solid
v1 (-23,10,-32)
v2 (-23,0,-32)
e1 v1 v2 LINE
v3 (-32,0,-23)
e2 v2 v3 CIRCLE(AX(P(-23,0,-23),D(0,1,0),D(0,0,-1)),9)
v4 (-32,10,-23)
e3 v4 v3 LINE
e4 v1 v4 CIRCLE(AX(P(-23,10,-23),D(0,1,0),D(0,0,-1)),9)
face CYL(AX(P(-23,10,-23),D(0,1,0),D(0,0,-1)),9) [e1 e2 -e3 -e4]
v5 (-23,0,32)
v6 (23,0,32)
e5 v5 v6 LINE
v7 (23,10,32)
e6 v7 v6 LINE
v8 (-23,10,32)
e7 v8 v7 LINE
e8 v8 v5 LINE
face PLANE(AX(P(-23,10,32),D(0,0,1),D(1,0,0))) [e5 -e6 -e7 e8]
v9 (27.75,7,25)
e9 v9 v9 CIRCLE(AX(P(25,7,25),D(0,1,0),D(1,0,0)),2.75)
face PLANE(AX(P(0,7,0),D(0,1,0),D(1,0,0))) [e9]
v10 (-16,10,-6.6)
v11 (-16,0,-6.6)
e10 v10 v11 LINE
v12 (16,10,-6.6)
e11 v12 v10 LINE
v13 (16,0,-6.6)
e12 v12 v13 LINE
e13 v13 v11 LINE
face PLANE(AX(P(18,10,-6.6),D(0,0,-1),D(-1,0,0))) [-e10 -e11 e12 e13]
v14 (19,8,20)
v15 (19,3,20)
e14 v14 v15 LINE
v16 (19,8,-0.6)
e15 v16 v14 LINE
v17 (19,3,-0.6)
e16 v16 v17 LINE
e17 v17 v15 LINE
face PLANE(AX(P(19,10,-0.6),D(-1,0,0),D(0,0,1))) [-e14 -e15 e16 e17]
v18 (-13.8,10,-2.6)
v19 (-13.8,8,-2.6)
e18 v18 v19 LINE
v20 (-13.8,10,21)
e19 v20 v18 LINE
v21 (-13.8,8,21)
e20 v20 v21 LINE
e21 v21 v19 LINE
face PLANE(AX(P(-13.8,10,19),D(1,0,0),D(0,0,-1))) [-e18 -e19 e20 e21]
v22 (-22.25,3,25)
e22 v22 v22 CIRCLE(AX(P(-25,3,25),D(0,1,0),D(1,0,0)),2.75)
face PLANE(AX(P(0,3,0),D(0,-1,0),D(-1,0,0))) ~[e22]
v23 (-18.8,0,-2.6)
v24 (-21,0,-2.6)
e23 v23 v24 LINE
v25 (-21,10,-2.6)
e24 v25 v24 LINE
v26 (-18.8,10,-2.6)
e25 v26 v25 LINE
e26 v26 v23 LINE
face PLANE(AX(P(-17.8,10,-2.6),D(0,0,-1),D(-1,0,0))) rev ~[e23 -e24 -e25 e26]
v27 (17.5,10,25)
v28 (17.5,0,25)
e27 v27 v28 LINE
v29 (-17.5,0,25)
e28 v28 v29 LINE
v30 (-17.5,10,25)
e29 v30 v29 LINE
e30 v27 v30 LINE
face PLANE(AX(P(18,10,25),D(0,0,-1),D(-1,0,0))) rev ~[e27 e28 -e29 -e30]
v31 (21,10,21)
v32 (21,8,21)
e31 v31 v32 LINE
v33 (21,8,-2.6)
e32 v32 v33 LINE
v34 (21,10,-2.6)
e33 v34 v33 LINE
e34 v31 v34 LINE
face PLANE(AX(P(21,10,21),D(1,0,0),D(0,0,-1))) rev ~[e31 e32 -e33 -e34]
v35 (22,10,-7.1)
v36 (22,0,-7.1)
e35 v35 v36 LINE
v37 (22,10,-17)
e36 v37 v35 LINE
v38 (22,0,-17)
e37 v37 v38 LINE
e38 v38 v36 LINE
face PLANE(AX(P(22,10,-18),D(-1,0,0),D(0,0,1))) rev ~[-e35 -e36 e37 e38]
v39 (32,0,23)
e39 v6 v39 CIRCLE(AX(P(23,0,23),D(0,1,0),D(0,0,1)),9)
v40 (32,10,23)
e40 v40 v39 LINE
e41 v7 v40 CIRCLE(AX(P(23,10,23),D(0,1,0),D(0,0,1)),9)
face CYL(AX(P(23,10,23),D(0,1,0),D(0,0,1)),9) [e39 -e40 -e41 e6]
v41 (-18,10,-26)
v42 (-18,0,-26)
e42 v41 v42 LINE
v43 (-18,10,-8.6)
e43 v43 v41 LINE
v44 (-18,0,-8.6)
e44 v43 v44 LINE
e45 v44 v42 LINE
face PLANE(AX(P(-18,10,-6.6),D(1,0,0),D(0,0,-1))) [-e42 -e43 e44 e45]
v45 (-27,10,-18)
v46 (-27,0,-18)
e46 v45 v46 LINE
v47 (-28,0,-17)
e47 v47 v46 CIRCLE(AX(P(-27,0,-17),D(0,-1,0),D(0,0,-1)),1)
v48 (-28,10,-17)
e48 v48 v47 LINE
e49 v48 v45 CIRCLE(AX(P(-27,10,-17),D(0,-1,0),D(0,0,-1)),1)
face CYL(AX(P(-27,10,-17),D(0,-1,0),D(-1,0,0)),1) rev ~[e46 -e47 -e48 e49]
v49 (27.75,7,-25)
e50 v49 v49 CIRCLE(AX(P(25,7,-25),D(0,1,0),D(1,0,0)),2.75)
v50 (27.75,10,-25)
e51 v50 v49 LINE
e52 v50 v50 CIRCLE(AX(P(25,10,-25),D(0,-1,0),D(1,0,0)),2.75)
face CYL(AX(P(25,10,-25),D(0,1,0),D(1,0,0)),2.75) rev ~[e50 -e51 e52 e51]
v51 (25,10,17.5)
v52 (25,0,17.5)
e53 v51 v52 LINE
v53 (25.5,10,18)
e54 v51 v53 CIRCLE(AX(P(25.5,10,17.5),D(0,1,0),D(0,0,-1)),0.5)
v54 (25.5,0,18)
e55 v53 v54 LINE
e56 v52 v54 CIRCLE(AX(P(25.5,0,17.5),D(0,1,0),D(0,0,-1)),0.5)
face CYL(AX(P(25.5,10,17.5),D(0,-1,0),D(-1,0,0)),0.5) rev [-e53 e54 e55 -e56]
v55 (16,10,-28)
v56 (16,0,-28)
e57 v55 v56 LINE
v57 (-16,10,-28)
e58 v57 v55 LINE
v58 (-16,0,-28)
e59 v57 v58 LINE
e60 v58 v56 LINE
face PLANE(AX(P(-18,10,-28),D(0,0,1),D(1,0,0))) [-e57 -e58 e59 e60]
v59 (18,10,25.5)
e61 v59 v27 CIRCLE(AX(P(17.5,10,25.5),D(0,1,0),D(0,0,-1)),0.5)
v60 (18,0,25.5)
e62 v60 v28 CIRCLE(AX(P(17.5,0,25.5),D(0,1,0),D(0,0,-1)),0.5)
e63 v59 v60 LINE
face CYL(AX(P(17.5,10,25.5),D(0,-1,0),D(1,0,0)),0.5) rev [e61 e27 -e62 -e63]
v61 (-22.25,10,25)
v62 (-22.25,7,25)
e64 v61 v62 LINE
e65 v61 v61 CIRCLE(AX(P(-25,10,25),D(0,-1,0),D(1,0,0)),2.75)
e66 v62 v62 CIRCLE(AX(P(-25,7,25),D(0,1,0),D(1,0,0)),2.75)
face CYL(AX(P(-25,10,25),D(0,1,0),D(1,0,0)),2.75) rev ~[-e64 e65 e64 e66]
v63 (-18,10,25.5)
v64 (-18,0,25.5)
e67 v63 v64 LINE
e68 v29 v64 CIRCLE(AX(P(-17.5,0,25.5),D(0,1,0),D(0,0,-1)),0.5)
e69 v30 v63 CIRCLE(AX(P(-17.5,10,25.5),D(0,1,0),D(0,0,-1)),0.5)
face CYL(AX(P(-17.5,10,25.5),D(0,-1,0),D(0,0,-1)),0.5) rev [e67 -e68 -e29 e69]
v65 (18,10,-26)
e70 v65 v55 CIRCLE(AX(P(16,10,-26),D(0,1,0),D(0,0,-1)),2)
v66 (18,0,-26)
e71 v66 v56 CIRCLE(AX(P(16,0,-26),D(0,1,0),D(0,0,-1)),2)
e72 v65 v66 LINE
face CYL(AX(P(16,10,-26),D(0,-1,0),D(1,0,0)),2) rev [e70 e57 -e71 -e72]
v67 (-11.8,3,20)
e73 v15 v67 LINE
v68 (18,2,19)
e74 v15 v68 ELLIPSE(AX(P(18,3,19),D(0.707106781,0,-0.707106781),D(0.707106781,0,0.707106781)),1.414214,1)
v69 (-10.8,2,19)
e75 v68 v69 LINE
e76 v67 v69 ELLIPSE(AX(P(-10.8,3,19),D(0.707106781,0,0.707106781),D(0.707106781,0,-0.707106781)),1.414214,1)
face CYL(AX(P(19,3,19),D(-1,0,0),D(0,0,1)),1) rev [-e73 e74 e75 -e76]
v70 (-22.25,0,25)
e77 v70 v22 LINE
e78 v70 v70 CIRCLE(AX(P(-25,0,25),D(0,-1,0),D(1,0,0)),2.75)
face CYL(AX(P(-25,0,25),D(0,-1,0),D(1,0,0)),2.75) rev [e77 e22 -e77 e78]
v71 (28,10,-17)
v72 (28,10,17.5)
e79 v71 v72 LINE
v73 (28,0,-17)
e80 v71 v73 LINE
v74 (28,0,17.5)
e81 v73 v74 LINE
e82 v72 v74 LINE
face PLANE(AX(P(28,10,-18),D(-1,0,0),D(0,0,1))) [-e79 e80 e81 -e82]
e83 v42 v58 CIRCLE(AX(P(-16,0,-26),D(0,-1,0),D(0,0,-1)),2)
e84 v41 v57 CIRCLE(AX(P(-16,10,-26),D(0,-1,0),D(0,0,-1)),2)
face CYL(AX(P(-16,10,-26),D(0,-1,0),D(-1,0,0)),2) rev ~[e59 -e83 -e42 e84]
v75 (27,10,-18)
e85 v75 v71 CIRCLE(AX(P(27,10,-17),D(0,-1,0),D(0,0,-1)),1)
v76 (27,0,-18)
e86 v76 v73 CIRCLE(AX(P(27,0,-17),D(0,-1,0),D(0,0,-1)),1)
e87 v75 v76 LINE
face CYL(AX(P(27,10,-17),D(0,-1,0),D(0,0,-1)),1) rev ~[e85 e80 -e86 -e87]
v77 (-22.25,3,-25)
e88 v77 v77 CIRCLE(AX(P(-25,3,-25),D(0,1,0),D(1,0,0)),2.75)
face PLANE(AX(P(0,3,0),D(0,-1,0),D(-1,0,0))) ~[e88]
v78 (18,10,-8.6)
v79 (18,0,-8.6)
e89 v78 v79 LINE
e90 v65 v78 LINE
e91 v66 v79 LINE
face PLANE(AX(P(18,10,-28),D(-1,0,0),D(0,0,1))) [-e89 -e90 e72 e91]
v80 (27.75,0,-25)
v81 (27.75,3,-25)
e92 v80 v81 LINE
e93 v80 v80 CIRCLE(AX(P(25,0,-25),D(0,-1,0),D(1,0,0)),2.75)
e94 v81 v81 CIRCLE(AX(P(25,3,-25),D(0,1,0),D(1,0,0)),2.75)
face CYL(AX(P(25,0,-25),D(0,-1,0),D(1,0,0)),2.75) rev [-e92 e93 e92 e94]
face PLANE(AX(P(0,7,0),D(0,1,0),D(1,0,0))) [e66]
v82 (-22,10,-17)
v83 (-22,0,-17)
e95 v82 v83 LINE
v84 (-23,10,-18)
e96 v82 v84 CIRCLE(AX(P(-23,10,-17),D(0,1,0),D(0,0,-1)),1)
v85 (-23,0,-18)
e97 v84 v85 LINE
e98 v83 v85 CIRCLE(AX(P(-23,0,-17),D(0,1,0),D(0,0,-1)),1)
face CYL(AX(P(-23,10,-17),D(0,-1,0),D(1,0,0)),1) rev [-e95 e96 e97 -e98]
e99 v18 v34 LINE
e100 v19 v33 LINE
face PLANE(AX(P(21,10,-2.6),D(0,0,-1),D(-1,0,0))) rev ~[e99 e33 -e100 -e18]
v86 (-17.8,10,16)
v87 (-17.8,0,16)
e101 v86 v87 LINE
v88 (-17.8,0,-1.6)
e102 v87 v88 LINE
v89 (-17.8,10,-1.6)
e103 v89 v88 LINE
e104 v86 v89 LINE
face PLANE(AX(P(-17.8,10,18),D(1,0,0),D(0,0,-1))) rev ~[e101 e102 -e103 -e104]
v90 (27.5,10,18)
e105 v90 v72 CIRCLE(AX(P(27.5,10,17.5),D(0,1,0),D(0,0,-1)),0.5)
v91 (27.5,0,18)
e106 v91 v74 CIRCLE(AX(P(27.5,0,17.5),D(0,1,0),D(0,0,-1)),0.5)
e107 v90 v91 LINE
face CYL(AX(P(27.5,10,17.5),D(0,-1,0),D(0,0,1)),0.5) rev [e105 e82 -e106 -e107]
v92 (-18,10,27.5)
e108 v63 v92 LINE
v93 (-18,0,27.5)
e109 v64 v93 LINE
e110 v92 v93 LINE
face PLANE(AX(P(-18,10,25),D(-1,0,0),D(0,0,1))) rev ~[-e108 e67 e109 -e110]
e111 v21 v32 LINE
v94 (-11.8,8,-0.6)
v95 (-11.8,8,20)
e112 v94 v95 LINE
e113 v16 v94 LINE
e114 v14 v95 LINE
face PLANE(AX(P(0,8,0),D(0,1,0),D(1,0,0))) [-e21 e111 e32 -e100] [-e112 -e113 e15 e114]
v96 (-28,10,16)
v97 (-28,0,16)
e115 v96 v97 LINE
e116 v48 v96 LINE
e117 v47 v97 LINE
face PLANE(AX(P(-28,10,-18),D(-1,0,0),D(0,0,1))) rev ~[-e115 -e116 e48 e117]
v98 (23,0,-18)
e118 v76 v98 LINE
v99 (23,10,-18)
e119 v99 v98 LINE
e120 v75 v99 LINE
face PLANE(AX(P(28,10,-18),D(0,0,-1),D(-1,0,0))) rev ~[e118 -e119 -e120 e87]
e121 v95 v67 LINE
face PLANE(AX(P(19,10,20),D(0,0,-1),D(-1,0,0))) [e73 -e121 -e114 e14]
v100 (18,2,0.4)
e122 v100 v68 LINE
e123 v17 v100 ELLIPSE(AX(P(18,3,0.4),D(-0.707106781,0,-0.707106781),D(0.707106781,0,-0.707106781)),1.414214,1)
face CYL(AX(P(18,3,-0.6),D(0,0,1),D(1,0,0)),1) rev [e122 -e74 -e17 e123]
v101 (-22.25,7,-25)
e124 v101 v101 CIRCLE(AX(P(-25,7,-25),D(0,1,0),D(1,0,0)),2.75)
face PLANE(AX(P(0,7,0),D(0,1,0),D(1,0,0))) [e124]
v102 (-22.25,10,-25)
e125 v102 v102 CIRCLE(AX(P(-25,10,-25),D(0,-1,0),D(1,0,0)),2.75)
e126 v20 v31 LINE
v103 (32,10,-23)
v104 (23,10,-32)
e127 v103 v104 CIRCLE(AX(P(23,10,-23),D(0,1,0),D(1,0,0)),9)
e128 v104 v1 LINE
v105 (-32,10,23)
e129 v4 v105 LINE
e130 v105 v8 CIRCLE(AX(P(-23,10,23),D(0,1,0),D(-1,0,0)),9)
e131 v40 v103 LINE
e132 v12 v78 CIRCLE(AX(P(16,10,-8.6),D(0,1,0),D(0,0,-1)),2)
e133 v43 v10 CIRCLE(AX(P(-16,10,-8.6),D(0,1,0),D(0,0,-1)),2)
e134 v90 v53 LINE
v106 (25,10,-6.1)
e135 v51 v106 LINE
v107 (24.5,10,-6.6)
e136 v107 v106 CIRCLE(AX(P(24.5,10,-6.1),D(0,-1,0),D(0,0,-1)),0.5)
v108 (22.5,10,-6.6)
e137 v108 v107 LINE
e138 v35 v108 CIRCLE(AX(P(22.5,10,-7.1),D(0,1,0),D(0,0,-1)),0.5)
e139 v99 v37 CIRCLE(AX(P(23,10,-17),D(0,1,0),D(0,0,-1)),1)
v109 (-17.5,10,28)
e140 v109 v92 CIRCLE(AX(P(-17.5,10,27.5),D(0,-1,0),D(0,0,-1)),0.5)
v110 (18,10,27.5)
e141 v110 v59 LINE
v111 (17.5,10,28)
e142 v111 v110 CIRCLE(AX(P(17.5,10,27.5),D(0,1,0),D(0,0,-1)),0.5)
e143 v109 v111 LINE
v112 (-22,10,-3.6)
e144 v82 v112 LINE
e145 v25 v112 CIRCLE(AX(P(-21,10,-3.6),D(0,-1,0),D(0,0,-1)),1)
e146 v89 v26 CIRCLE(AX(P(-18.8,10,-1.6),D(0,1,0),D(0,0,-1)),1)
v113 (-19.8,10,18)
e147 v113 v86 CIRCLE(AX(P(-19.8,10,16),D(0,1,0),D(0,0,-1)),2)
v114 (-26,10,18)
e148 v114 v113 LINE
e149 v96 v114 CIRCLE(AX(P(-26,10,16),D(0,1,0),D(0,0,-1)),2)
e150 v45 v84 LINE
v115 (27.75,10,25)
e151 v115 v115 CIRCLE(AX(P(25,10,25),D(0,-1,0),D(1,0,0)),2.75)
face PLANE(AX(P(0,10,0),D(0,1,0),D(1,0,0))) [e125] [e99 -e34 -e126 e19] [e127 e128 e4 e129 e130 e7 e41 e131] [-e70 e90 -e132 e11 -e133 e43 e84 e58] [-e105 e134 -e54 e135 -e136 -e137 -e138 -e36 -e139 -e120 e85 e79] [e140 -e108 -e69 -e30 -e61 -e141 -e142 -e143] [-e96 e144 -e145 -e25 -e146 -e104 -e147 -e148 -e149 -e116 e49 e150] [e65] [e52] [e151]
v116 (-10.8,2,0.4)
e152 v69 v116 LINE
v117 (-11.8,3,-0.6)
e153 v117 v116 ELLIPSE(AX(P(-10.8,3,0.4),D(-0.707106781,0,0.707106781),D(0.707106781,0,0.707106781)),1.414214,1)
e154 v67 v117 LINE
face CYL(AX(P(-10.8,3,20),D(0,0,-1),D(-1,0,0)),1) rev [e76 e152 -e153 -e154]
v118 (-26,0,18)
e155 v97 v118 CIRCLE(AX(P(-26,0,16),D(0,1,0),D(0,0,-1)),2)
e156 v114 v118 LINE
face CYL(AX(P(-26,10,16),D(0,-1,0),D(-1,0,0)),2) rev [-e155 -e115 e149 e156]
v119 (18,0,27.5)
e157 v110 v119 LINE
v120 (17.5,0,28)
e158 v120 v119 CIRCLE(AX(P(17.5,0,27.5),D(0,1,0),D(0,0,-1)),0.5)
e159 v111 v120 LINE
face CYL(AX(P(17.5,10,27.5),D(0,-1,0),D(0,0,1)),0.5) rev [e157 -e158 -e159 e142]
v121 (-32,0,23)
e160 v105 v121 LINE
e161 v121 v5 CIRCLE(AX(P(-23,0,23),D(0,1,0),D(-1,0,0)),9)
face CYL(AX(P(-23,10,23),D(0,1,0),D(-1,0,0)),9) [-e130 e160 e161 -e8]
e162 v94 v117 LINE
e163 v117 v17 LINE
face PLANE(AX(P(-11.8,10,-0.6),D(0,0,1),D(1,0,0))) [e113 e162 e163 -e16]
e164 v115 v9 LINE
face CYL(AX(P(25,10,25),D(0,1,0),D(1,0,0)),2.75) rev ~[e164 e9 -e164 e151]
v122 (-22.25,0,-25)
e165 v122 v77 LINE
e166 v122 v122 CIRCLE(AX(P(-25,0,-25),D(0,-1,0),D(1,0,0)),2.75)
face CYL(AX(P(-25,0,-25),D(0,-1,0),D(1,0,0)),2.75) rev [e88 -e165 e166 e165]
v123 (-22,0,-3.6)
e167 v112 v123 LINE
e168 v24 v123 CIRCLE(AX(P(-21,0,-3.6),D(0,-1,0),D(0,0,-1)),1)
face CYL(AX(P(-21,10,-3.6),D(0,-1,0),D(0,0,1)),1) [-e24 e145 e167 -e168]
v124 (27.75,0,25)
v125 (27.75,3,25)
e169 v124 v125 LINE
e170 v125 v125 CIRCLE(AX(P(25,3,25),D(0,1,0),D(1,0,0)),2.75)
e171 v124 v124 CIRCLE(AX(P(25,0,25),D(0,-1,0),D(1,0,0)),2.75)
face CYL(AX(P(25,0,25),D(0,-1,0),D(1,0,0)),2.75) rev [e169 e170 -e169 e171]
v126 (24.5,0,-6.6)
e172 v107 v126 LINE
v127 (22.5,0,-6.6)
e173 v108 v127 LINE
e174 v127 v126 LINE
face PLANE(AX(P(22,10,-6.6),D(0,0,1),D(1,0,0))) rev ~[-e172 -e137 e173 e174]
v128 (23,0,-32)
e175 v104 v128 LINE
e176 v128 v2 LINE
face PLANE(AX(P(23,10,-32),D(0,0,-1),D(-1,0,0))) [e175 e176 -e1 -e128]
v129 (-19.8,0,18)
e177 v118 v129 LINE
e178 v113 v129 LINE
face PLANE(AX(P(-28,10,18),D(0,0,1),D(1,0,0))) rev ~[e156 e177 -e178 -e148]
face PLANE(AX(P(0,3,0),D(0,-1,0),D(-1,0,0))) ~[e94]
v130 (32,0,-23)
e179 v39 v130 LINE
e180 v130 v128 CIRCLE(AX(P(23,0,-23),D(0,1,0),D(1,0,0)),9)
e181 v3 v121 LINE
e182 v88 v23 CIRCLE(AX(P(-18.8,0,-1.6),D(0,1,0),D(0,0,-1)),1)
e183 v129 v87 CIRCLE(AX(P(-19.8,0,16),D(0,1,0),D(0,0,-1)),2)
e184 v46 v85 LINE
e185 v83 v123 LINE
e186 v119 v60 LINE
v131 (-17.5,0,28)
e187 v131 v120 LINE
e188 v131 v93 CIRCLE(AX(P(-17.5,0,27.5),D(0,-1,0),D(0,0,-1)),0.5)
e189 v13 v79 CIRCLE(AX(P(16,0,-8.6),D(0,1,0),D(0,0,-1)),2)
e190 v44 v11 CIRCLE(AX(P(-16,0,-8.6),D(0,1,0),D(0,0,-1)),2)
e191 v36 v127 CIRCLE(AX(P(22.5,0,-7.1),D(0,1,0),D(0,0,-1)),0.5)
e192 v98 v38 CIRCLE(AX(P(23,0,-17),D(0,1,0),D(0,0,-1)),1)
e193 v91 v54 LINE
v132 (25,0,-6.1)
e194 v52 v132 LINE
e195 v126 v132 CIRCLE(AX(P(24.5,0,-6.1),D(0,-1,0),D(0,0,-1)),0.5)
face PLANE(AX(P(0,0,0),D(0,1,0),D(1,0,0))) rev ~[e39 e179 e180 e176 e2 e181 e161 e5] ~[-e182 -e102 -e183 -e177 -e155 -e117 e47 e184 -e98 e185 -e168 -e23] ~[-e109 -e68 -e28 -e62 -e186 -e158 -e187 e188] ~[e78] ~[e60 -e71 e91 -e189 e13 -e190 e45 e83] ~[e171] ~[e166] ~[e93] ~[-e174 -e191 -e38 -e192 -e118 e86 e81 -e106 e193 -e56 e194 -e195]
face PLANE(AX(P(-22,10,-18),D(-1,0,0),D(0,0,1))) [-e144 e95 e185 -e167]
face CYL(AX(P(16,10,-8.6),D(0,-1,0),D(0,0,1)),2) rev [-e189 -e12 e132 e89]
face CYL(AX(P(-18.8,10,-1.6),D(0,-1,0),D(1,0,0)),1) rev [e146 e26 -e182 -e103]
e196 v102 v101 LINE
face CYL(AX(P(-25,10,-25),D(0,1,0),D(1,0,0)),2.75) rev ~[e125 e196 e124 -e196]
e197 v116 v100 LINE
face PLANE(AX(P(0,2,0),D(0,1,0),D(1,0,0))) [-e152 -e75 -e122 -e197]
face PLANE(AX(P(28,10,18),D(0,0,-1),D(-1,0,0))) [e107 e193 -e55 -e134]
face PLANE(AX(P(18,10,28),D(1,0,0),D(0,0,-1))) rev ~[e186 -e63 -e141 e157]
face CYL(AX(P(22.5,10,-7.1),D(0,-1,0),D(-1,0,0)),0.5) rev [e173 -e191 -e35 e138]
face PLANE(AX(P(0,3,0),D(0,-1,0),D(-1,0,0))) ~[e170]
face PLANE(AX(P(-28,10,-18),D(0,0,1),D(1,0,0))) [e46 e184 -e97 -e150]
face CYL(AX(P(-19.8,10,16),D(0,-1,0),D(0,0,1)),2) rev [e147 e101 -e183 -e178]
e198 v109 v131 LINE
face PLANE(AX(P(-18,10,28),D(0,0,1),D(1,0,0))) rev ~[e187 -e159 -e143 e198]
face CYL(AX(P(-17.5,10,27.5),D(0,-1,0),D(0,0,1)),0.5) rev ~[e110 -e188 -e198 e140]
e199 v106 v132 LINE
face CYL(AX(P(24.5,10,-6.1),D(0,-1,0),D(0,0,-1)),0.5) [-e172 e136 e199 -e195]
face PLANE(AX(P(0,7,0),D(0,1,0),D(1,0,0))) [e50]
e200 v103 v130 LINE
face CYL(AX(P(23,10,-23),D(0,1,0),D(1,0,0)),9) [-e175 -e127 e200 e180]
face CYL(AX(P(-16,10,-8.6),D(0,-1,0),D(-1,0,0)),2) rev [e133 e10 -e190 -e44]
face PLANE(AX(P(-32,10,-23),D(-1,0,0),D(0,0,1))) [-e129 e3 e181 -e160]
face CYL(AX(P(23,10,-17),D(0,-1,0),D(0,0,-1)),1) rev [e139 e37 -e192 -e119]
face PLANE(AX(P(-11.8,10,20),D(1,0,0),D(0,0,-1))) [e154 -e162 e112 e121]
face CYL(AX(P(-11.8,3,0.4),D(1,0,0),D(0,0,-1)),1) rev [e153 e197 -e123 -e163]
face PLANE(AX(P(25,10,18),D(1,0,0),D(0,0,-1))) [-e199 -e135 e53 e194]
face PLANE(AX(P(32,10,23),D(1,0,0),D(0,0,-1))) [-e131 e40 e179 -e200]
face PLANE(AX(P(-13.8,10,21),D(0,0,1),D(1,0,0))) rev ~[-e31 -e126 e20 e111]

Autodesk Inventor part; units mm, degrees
ref_plane "YZ Plane" through (0, 0, 0) normal (1, 0, 0) x (0, 1, 0)
ref_plane "XZ Plane" through (0, 0, 0) normal (0, 1, 0) x (-1, 0, 0)
sketch "Sketch1" plane through (0, 0, 0) normal (0, 1, 0) x (-1, 0, 0)
  line L0 (30, 30) -> (-30, 30)
  line L1 (-30, 30) -> (-30, -30)
  line L2 (-30, -30) -> (30, -30)
  line L3 (30, -30) -> (30, 30)
  line L4 (30, 30) -> (-30, -30) construction
  line L5 (-30, 30) -> (30, -30) construction
  point P0 (0, 0)
  dimension "d0" = 60
  dimension "d1" = 60
extrude "Extrusion1" add sketch "Sketch1" along normal blind 10
fillet "Fillet1" radius 7 4 edges at (30, 5, 30) (30, 5, -30) (-30, 5, 30) (-30, 5, -30)
sketch "Sketch2" plane through (0, 10, 0) normal (0, 1, 0) x (1, 0, 0)
  line L0 (-30, 30) -> (30, 30)
  line L1 (30, 30) -> (30, -30)
  line L2 (30, -30) -> (-30, -30)
  line L3 (-30, -30) -> (-30, 30)
  line L4 (-30, 30) -> (30, -30) construction
  line L5 (30, 30) -> (-30, -30) construction
  line L6 (25, -25) -> (25, 25)
  line L7 (25, 25) -> (-25, 25)
  line L8 (-25, 25) -> (-25, -25)
  line L9 (-25, -25) -> (25, -25)
  circle A0 centre (25, -25) radius 2.75
  circle A1 centre (-25, -25) radius 2.75
  circle A2 centre (25, 25) radius 2.75
  circle A3 centre (-25, 25) radius 2.75
  point P0 (0, 0)
  dimension "d5" = 5
  dimension "d6" = 5.5
  dimension "d7" = 5.5
  dimension "d8" = 5.5
  dimension "d9" = 5.5
extrude "Extrusion2" cut sketch "Sketch2" against normal blind 3 contours L9 A0 L6 | L6 A0 L9 | A2 L7 L6 | L6 L7 A2 | A1 L8 L9 | L9 L8 A1 | A3 L8 L7 | L7 L8 A3
sketch "Sketch7" plane through (0, 10, 0) normal (0, 1, 0) x (1, 0, 0)
  line L0 (-23, 30) -> (23, 30)
  line L1 (30, 23) -> (30, -23)
  line L2 (23, -30) -> (-23, -30)
  line L3 (-30, -23) -> (-30, 23)
  line L4 (-30, 30) -> (30, -30) construction
  line L5 (30, 30) -> (-30, -30) construction
  arc A0 (-23, 30) -> (-30, 23) centre (-23, 23) ccw
  arc A1 (-30, -23) -> (-23, -30) centre (-23, -23) ccw
  arc A2 (23, -30) -> (30, -23) centre (23, -23) ccw
  arc A3 (30, 23) -> (23, 30) centre (23, 23) ccw
  line L6 (23, 32) -> (-23, 32)
  arc A4 (-23, 32) -> (-32, 23) centre (-23, 23) ccw
  line L7 (-32, 23) -> (-32, -23)
  arc A5 (-32, -23) -> (-23, -32) centre (-23, -23) ccw
  line L8 (-23, -32) -> (23, -32)
  arc A6 (23, -32) -> (32, -23) centre (23, -23) ccw
  line L9 (32, -23) -> (32, 23)
  arc A7 (32, 23) -> (23, 32) centre (23, 23) ccw
  point P0 (0, 0)
  dimension "d47" = 7
  dimension "d48" = 2
extrude "Extrusion6" add sketch "Sketch7" against normal blind 10
sketch "Sketch27" plane through (0, 10, 0) normal (0, 1, 0) x (1, 0, 0)
  line L0 (-25, 25) -> (25, 25)
  line L1 (25, 25) -> (25, -25)
  line L2 (25, -25) -> (-25, -25)
  line L3 (-25, -25) -> (-25, 25)
  line L4 (-25, 25) -> (25, -25) construction
  line L5 (25, 25) -> (-25, -25) construction
  line L6 (21, -21) -> (21, 21)
  line L7 (21, 21) -> (-21, 21)
  line L8 (-21, 21) -> (-21, -21)
  line L9 (-21, -21) -> (21, -21)
  line L10 (-13.8, -21) -> (-13.8, 2.6)
  line L11 (21, 2.6) -> (-13.8, 2.6)
  line L12 (19, 0.6) -> (-11.8, 0.6)
  line L13 (-11.8, 0.6) -> (-11.8, -20)
  line L14 (-19, -19) -> (-19, 19)
  line L15 (-19, 19) -> (19, 19)
  line L16 (20, 20) -> (20, 0.6)
  line L17 (-20, -20) -> (-20, 20)
  line L18 (-20, 20) -> (20, 20)
  line L19 (-13.8, -19) -> (-19, -19)
  line L20 (19, -20) -> (-11.8, -20)
  line L21 (-13.8, -20) -> (-20, -20)
  line L22 (19, 19) -> (19, 2.6)
  line L23 (19, 0.6) -> (19, -20)
  point P0 (0, 0)
  dimension "d266" = 50
  dimension "d267" = 50
  dimension "d268" = 4
  dimension "d269" = 34.8
  dimension "d270" = 23.6
  dimension "d271" = 2
  dimension "d273" = 1
extrude "Extrusion25" cut sketch "Sketch27" against normal blind 2 contours L9 L10 L11 L6
sketch "Sketch28" plane through (0, 10, 0) normal (0, 1, 0) x (1, 0, 0)
  line L0 (-11.8, 0.6) -> (19, 0.6)
  line L1 (19, 0.6) -> (19, -20)
  line L2 (19, -20) -> (-11.8, -20)
  line L3 (-11.8, -20) -> (-11.8, 0.6)
  point P0 (0, 0)
extrude "Extrusion26" cut sketch "Sketch28" against normal blind 8
sketch "Sketch29" plane through (0, 10, 0) normal (0, 1, 0) x (1, 0, 0)
  line L0 (23, 32) -> (-23, 32) projected
  line L1 (-32, 23) -> (-32, -23) projected
  line L2 (32, -23) -> (32, 23) projected
  line L3 (-13.8, 2.6) -> (21, 2.6) projected
  line L4 (-18, 28) -> (18, 28)
  line L5 (18, 28) -> (18, 6.6)
  line L6 (18, 6.6) -> (-18, 6.6)
  line L7 (-18, 6.6) -> (-18, 28)
  line L8 (-23, -32) -> (23, -32) projected
  line L9 (21, 2.6) -> (21, -21) projected
  line L10 (28, 18) -> (22, 18)
  line L11 (22, 18) -> (22, 6.6)
  line L12 (22, 6.6) -> (25, 6.6)
  line L13 (28, 18) -> (28, -18)
  line L14 (28, -18) -> (25, -18)
  line L15 (25, -18) -> (25, 2.6)
  line L16 (25, 2.6) -> (25, 6.6)
  line L17 (21, -21) -> (-13.8, -21) projected
  line L18 (18, -28) -> (18, -25)
  line L19 (18, -25) -> (-18, -25)
  line L20 (-18, -25) -> (-18, -28)
  line L21 (-18, -28) -> (18, -28)
  line L22 (-13.8, -21) -> (-13.8, 2.6) projected
  line L23 (-28, -18) -> (-17.8, -18)
  line L24 (-17.8, -18) -> (-17.8, 2.6)
  line L25 (-17.8, 2.6) -> (-22, 2.6)
  line L26 (-22, 2.6) -> (-22, 6.6)
  line L27 (-28, 18) -> (-22, 18)
  line L28 (-22, 18) -> (-22, 6.6)
  line L29 (-28, 18) -> (-28, -18)
  point P0 (0, 0)
  dimension "d278" = 4
  dimension "d279" = 4
  dimension "d280" = 14
  dimension "d281" = 14
  dimension "d282" = 4
  dimension "d283" = 4
  dimension "d284" = 4
  dimension "d285" = 14
  dimension "d286" = 14
  dimension "d287" = 4
  dimension "d288" = 4
  dimension "d289" = 4
  dimension "d290" = 4
  dimension "d291" = 14
  dimension "d292" = 14
  dimension "d293" = 4
  dimension "d294" = 14
  dimension "d295" = 14
  dimension "d296" = 4
  dimension "d297" = 4
  dimension "d298" = 4
  dimension "d299" = 4
  dimension "d300" = 14
  dimension "d301" = 4
extrude "Extrusion27" cut sketch "Sketch29" against normal through all contours L4 L5 L6 L7 | L13 L14 L15 L16 L12 L11 L10 | L21 L20 L19 L18 | L29 L27 L28 L26 L25 L24 L23
ref_plane "Work Plane7" through (0, 5, 0) normal (0, 1, 0) x (1, 0, 0)
mirror "Mirror7" about plane through (0, 5, 0) normal (0, 1, 0) of "Extrusion2"
fillet "Fillet8" radius 2 6 edges at (18, 5, -28) (-18, 5, -28) (-18, 5, -6.6) (18, 5, -6.6) (-17.8, 5, 18) (-28, 5, 18)
fillet "Fillet8" radius 1 10 edges at (-28, 5, -18) (-22, 5, -18) (-22, 5, -2.6) (-17.8, 5, -2.6) (3.6, 2, -0.6) (19, 2, 9.7) (-11.8, 2, 9.7) (3.6, 2, 20) (28, 5, -18) (22, 5, -18)
fillet "Fillet8" radius 0.5 8 edges at (-18, 5, 28) (25, 5, 18) (25, 5, -6.6) (22, 5, -6.6) (28, 5, 18) (18, 5, 28) (18, 5, 25) (-18, 5, 25)
properties part number "14 pin shortest holder"
